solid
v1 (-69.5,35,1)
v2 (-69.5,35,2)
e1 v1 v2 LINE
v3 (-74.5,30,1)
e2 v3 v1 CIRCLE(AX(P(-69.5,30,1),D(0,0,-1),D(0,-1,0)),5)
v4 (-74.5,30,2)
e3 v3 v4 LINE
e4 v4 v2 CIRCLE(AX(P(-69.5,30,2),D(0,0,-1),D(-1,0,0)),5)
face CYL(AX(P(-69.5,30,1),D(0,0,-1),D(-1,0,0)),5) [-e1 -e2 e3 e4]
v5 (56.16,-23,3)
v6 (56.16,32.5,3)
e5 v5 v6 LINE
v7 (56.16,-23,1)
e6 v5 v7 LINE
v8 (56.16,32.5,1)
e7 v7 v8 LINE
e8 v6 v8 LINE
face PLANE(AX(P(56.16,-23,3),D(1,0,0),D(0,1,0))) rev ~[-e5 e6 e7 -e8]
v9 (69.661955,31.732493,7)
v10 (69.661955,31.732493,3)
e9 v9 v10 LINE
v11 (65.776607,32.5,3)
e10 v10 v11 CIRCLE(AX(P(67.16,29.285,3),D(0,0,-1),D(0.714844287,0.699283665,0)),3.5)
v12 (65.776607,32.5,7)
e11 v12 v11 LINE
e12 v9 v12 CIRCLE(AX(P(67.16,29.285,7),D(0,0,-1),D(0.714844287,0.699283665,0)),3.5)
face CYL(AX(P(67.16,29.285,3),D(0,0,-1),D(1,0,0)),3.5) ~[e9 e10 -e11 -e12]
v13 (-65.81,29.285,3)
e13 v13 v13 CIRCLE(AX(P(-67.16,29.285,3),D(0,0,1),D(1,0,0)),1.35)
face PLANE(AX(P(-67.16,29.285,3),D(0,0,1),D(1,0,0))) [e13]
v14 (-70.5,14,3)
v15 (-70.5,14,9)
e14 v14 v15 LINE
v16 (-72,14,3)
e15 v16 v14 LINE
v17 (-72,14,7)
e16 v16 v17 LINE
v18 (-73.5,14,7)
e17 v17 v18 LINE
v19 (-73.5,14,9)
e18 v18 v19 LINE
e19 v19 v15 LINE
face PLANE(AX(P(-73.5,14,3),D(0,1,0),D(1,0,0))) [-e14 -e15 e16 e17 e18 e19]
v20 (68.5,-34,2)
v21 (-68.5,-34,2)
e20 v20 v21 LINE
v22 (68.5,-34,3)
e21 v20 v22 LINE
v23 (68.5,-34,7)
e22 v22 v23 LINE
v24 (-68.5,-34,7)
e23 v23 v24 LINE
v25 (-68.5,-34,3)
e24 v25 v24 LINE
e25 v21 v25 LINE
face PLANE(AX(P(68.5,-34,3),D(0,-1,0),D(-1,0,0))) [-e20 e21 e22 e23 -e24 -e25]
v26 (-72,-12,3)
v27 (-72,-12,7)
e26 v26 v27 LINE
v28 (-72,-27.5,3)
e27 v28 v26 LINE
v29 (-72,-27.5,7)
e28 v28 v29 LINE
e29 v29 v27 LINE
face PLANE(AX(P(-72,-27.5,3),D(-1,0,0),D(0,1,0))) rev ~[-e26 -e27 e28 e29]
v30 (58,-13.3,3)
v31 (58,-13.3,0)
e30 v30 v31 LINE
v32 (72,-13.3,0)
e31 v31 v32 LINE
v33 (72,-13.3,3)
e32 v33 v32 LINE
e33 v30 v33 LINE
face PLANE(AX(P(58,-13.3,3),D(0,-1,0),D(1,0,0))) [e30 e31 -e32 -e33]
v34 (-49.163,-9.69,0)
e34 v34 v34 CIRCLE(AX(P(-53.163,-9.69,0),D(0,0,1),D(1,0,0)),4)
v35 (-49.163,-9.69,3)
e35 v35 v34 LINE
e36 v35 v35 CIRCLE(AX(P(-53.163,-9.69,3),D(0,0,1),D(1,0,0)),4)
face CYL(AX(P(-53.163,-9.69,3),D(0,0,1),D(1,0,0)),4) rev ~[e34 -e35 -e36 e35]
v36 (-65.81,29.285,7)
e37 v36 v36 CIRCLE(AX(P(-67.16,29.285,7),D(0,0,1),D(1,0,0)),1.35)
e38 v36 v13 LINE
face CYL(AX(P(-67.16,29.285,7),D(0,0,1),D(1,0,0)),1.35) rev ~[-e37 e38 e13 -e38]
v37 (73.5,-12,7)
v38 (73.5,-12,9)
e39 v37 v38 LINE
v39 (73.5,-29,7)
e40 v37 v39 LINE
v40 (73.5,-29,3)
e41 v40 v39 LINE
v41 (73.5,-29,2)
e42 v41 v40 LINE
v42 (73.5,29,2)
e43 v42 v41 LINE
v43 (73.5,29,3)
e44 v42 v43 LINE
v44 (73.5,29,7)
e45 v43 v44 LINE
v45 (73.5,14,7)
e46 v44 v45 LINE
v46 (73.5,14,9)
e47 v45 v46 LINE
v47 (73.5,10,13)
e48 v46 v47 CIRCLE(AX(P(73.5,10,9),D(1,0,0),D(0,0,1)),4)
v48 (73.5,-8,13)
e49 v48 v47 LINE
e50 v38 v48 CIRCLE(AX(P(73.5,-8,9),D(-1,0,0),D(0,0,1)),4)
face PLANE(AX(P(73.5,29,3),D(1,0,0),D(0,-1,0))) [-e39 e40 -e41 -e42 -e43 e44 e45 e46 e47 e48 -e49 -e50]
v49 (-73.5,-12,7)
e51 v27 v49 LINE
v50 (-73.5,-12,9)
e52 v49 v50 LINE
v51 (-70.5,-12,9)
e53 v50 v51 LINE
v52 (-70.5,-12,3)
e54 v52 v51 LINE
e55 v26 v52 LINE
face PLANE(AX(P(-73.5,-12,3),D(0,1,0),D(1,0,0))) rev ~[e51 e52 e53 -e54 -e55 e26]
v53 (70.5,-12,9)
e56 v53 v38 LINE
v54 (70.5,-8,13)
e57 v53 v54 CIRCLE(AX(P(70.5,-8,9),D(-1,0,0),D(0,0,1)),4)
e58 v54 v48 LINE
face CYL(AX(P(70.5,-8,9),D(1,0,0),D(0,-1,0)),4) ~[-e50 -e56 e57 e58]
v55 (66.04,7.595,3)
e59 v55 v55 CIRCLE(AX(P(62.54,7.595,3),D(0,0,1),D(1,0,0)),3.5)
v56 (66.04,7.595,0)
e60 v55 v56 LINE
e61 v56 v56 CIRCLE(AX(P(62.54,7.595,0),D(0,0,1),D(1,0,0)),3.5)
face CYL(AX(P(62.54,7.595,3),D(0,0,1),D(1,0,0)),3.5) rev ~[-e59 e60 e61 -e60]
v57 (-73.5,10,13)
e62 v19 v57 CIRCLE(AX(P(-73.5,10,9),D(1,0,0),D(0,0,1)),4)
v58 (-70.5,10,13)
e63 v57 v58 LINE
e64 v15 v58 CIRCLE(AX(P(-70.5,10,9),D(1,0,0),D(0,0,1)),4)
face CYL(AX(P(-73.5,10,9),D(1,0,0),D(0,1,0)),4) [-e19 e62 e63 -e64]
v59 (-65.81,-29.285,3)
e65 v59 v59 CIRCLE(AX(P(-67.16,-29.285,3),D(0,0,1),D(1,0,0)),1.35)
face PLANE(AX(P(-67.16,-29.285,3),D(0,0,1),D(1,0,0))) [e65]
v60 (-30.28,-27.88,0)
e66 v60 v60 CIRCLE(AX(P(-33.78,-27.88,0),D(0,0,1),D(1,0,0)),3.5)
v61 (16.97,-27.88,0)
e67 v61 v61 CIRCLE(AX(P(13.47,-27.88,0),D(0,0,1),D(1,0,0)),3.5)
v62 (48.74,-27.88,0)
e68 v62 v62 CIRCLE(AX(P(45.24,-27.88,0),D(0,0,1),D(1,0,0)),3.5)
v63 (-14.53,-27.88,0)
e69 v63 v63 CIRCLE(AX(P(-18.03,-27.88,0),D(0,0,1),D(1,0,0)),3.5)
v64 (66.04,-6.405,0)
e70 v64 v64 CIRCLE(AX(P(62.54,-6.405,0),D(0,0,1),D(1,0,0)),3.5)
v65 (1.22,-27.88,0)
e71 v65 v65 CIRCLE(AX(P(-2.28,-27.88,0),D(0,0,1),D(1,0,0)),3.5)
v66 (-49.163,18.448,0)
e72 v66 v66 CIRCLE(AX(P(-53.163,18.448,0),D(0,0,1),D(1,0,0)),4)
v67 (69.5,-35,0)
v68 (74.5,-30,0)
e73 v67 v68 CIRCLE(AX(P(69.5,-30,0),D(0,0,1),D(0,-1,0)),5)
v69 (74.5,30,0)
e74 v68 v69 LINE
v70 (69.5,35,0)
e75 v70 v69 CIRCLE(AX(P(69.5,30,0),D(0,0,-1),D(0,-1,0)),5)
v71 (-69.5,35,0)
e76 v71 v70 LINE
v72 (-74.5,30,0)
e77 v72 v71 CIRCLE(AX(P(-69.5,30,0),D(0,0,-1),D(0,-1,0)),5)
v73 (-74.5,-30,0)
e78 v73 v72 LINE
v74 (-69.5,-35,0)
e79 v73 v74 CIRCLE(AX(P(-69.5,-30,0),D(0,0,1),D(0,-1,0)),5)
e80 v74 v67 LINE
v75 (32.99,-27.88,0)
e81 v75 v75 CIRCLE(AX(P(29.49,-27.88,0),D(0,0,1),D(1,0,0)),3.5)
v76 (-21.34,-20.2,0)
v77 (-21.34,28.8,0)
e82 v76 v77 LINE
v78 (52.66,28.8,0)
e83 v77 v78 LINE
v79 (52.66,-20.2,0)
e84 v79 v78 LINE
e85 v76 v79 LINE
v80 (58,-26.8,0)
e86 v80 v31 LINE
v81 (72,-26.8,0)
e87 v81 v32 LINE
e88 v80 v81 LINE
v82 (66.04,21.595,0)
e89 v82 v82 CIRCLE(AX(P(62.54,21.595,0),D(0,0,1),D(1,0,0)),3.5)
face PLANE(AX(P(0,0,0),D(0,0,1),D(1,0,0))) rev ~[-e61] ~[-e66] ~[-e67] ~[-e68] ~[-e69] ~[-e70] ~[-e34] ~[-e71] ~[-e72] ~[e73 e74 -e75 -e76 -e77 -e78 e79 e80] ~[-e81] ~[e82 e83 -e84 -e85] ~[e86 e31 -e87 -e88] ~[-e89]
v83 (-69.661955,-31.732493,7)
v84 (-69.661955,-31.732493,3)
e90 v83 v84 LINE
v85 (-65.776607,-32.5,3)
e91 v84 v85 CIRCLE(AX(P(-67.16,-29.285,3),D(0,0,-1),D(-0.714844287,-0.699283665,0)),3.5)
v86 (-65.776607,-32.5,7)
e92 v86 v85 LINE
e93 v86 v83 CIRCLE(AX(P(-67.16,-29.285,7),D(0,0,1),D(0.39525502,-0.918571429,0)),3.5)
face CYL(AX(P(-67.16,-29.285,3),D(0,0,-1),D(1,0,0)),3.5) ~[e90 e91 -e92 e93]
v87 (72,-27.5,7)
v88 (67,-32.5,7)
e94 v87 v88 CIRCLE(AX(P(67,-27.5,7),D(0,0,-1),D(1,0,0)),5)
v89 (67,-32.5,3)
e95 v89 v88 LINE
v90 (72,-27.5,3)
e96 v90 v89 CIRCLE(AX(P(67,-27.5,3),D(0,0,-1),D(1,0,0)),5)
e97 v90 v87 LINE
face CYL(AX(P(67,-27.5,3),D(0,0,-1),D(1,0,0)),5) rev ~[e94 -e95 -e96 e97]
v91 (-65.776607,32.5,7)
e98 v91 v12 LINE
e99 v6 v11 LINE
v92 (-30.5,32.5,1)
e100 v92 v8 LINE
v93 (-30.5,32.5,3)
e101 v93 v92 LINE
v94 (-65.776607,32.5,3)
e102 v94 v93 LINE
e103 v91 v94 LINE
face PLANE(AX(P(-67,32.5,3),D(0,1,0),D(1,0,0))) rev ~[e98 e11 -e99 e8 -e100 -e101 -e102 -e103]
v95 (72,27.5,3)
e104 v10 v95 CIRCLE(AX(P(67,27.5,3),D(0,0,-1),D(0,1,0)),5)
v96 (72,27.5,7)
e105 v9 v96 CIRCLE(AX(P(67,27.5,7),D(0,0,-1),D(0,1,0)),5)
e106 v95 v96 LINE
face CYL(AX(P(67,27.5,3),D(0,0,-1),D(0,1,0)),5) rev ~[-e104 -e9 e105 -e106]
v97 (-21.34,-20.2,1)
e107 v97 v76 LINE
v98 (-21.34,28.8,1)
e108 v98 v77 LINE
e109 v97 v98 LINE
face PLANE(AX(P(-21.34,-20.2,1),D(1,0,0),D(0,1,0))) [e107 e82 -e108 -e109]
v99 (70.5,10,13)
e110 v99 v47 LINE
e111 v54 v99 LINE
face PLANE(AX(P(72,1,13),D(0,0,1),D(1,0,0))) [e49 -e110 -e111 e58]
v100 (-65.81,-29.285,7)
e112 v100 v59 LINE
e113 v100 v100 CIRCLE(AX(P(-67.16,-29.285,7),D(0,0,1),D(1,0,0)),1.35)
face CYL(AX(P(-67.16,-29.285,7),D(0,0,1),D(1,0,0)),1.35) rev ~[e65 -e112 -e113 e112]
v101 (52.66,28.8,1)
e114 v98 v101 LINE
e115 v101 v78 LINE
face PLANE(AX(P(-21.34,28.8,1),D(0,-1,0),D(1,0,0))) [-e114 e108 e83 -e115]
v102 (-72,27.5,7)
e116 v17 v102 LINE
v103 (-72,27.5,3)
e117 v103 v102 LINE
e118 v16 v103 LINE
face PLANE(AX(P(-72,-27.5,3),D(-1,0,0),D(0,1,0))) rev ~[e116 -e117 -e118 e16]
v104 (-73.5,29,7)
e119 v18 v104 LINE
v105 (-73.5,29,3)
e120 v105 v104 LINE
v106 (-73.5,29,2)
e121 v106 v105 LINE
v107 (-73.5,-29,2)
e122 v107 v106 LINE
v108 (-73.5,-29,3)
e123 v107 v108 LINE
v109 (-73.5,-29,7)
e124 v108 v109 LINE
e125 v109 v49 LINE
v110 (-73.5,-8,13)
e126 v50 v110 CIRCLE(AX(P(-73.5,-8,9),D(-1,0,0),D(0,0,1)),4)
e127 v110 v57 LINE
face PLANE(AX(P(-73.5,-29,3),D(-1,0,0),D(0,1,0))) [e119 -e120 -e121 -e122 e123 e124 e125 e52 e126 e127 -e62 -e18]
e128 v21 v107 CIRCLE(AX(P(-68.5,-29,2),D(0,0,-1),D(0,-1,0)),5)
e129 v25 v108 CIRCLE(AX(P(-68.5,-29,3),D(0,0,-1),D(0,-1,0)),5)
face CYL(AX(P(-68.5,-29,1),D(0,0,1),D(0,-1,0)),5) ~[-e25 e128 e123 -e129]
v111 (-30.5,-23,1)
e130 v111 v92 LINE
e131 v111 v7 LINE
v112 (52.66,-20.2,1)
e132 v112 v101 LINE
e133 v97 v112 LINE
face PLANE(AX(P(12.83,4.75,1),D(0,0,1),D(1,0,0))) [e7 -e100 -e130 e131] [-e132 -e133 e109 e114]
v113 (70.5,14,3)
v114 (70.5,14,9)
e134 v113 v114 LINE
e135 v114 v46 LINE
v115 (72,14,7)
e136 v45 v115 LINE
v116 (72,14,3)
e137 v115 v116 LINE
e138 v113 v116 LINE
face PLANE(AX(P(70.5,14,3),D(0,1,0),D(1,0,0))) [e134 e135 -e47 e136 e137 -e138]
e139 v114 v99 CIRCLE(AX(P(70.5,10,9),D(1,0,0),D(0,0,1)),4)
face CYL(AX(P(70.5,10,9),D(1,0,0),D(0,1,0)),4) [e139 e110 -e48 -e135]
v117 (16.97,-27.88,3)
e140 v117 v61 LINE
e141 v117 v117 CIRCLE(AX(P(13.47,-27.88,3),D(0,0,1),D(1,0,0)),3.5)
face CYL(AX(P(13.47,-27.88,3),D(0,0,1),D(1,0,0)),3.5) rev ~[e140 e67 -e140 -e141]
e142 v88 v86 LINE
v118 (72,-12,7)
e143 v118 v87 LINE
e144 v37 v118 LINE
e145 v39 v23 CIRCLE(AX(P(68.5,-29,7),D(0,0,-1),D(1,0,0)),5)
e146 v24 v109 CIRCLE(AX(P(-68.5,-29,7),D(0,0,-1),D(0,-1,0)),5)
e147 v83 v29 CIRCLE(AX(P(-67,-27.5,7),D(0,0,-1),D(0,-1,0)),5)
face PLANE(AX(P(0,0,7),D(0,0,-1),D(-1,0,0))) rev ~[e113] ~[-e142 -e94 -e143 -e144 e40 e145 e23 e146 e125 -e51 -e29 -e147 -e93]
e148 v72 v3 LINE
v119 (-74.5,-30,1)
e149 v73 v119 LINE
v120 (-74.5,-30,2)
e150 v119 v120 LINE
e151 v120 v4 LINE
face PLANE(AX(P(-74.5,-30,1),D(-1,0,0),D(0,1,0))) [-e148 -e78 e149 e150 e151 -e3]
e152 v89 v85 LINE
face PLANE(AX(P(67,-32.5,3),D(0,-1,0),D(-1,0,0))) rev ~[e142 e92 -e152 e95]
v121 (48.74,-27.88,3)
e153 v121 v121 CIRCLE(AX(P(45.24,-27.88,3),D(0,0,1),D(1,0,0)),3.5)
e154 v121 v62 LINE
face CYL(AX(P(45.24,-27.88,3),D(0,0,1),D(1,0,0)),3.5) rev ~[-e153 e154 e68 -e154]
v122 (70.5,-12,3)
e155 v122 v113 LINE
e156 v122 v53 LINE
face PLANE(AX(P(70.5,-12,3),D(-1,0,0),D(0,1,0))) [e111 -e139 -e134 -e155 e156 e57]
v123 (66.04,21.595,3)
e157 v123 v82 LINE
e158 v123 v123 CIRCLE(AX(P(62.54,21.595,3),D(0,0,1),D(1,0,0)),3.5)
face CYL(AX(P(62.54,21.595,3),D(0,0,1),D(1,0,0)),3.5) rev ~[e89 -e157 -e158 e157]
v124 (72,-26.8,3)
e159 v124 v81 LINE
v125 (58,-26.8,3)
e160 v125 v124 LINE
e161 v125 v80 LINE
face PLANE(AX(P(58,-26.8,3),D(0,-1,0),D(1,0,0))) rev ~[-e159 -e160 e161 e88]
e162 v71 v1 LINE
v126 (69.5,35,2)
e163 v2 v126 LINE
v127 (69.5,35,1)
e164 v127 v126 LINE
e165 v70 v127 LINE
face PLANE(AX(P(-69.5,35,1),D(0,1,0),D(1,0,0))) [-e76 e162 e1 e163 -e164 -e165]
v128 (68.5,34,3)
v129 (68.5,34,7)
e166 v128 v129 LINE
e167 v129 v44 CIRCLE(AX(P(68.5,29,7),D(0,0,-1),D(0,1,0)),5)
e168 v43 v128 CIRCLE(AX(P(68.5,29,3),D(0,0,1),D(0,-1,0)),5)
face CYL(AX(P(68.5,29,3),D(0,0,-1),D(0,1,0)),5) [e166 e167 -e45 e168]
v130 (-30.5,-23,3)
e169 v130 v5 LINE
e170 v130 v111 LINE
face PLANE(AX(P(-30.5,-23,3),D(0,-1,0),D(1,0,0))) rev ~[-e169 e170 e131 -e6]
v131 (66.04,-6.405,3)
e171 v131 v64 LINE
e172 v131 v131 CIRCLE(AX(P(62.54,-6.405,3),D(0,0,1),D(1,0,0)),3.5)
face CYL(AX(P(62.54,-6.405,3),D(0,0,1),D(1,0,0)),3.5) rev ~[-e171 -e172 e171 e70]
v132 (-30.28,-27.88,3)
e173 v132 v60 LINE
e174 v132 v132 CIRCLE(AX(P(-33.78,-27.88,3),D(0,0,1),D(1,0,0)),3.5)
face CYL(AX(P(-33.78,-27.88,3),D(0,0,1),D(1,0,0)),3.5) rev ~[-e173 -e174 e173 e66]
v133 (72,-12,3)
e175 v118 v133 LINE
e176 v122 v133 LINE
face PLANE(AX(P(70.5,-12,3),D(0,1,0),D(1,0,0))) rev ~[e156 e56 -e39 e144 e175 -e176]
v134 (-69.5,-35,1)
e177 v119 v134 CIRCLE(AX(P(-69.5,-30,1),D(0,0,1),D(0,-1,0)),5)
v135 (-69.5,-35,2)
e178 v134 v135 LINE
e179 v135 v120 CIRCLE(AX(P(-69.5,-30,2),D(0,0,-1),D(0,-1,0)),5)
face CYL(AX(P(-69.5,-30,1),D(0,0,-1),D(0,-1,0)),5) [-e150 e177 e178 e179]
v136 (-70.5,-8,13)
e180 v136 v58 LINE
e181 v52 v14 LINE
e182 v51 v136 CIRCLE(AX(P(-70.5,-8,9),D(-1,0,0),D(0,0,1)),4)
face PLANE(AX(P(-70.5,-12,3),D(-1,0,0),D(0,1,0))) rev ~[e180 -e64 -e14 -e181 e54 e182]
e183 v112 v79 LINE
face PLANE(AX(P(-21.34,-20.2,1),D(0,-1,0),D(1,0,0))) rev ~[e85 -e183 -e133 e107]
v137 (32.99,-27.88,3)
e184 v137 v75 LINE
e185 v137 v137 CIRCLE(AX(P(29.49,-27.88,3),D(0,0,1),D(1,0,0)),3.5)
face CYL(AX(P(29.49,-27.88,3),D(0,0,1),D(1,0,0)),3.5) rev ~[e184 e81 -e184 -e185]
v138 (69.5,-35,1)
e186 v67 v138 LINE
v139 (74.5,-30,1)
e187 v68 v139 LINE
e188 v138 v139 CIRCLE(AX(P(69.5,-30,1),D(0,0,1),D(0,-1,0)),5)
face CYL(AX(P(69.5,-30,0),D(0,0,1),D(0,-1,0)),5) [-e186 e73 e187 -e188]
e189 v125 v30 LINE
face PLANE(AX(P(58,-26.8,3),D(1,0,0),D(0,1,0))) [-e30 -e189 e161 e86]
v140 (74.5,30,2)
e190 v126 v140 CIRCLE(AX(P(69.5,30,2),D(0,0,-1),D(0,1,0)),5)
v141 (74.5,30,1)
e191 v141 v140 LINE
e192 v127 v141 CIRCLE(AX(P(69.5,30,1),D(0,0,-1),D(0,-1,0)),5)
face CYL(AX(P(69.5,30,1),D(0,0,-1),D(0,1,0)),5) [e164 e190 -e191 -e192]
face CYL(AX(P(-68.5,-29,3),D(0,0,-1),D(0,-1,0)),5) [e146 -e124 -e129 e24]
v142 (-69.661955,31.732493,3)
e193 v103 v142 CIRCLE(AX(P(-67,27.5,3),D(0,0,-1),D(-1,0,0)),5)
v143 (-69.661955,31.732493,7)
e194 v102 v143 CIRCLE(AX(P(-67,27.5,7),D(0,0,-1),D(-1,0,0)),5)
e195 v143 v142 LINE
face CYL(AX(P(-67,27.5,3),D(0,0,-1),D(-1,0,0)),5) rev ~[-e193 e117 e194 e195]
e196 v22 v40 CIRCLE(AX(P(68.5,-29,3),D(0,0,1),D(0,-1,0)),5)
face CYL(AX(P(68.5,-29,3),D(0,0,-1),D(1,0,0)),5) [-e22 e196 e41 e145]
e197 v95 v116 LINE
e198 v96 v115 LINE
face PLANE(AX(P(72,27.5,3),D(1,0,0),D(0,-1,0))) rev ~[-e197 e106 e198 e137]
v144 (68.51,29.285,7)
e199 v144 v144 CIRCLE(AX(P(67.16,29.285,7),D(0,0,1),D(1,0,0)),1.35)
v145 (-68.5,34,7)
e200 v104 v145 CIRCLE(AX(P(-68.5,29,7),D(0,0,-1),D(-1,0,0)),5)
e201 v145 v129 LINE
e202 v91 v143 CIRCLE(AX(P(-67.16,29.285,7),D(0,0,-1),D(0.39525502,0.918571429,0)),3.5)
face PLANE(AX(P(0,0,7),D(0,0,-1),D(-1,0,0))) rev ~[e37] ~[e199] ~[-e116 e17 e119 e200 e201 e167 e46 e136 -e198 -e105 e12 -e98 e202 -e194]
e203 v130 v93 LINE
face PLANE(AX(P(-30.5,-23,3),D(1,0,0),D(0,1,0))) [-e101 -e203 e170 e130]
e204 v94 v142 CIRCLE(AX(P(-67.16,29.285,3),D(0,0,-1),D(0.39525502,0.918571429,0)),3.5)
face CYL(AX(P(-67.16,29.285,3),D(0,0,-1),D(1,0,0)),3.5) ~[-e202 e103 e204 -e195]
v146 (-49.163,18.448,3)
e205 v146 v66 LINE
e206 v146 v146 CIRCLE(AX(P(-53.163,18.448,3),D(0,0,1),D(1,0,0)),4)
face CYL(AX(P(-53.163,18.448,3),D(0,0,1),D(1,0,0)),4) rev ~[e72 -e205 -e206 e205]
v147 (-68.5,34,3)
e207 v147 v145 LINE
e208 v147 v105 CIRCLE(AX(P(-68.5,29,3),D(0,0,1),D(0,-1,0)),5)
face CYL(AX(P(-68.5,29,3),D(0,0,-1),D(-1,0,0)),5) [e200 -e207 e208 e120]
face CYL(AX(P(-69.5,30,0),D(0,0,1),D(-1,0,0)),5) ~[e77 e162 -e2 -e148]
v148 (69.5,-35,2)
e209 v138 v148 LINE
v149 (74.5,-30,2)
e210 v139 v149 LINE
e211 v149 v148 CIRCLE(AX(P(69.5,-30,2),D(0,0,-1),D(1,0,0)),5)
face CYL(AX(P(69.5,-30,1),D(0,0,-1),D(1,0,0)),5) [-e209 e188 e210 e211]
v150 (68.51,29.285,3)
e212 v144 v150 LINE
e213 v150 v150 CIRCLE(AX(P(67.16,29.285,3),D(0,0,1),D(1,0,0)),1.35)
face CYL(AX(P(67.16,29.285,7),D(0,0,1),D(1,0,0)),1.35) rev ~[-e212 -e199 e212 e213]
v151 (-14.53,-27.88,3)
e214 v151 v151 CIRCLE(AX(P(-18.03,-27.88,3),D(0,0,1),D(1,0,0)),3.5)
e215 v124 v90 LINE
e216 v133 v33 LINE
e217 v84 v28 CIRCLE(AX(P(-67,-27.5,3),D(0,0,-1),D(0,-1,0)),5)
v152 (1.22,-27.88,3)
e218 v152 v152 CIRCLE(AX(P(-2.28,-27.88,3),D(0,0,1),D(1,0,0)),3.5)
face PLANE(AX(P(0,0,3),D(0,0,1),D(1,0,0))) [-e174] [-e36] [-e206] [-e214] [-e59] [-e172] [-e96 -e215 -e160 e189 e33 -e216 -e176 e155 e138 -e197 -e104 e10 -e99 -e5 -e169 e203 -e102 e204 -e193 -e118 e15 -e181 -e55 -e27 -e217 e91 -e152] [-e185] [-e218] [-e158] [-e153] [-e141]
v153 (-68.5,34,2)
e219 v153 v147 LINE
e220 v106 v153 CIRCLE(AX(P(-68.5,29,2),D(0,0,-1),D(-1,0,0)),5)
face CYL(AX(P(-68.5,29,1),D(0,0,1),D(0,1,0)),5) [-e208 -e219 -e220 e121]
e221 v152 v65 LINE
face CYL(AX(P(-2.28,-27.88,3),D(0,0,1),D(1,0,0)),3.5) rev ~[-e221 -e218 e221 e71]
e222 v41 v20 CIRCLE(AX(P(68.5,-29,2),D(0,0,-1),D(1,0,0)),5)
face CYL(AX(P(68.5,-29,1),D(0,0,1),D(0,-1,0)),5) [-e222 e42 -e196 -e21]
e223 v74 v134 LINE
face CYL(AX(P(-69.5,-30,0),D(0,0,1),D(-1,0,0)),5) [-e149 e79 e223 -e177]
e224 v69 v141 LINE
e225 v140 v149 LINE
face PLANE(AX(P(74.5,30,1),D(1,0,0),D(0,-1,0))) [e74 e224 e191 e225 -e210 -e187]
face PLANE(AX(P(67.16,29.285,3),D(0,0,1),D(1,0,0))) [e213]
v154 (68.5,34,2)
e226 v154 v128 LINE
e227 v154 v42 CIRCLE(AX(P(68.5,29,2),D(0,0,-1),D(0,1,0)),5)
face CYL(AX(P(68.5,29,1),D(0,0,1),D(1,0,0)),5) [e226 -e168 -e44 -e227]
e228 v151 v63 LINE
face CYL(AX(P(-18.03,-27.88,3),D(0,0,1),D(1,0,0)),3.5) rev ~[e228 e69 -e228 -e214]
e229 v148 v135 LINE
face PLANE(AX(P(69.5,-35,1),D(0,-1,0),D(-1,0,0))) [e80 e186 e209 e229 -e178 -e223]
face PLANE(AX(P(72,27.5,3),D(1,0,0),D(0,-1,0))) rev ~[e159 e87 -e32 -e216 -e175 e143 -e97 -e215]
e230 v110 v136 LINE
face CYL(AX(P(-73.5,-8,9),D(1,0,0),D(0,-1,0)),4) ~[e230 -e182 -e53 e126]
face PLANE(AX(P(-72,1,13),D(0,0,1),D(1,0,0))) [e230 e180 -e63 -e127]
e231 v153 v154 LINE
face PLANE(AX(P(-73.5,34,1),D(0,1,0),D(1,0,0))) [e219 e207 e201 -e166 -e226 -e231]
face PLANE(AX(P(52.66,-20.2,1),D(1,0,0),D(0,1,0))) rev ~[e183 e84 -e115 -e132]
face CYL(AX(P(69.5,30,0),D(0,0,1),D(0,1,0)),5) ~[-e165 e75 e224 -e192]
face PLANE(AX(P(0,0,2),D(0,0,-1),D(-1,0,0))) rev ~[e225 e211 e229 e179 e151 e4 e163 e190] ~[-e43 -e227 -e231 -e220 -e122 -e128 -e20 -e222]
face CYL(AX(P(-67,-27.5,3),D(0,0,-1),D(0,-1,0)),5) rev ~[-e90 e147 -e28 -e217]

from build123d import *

# Parameters (mm, degrees)
SKETCH_1_W           = 149
SKETCH_1_H           = 70
EXTRUDE_1_DEPTH      = 1
SKETCH_2_W           = 147
SKETCH_2_H           = 68
EXTRUDE_2_DEPTH      = 2
FILLET_1_R           = 5
SKETCH_3_W           = 3
SKETCH_3_H           = 26
EXTRUDE_3_DEPTH      = 10
FILLET_2_R           = 4
SKETCH_6_R           = 3.5
EXTRUDE_4_DEPTH      = 4
SKETCH_7_W           = 86.66
SKETCH_7_H           = 55.5
CUT_EXTRUDE_3_DEPTH  = 2
SKETCH_8_W           = 74
SKETCH_8_H           = 49
CUT_EXTRUDE_4_DEPTH  = 2
SKETCH_11_R          = 4
CUT_EXTRUDE_7_DEPTH  = 4
SKETCH_12_R          = 1.35
CUT_EXTRUDE_8_DEPTH  = 4
SKETCH_13_R          = 1.35
CUT_EXTRUDE_9_DEPTH  = 4
SKETCH_14_R          = 1.35
CUT_EXTRUDE_10_DEPTH = 4
SKETCH_15_W          = 14
SKETCH_15_H          = 13.5
CUT_EXTRUDE_11_DEPTH = 4
SKETCH_9_R           = 3.5
CUT_EXTRUDE_12_DEPTH = 4
SKETCH_16_R          = 3.5
CUT_EXTRUDE_13_DEPTH = 4
EXTRUDE_5_DEPTH      = 4
EXTRUDE_6_DEPTH      = 1


with BuildPart() as part:
    # Эскиз1 → Бобышка-Вытянуть1 (new body)
    with BuildSketch(Plane.XY):
        Rectangle(SKETCH_1_W, SKETCH_1_H)
    extrude(amount=EXTRUDE_1_DEPTH)

    # Эскиз2 → Бобышка-Вытянуть2 (add)
    with BuildSketch(Plane.XY.offset(1)):
        Rectangle(SKETCH_2_W, SKETCH_2_H)
    extrude(amount=EXTRUDE_2_DEPTH)

    # Скругление1
    fillet_1_edges = [part.edges().sort_by_distance(p)[0] for p in [
        (-73.5, 34, 2),
        (-73.5, -34, 2),
        (73.5, -34, 2),
        (73.5, 34, 2),
        (-74.5, 35, 0.5),
        (74.5, 35, 0.5),
        (74.5, -35, 0.5),
        (-74.5, -35, 0.5),
    ]]
    fillet(fillet_1_edges, radius=FILLET_1_R)

    # Эскиз3 → Бобышка-Вытянуть3 (add)
    with BuildSketch(Plane.XY.offset(3)):
        with Locations((-72, 1)):
            Rectangle(SKETCH_3_W, SKETCH_3_H)
        with Locations((72, 1)):
            Rectangle(SKETCH_3_W, SKETCH_3_H)
    extrude(amount=EXTRUDE_3_DEPTH)

    # Скругление2
    fillet_2_edges = [part.edges().sort_by_distance(p)[0] for p in [
        (-72, -12, 13),
        (-72, 14, 13),
        (72, 14, 13),
        (72, -12, 13),
    ]]
    fillet(fillet_2_edges, radius=FILLET_2_R)

    # Эскиз6 → Бобышка-Вытянуть4 (add)
    with BuildSketch(Plane.XY.offset(3)):
        with Locations((-67.16, 29.285)):
            Circle(SKETCH_6_R)
        with Locations((67.16, 29.285)):
            Circle(SKETCH_6_R)
        with Locations((-67.16, -29.285)):
            Circle(SKETCH_6_R)
    extrude(amount=EXTRUDE_4_DEPTH)

    # Эскиз7 → Вырез-Вытянуть3 (cut)
    with BuildSketch(Plane.XY.offset(3)):
        with Locations((12.83, 4.75)):
            Rectangle(SKETCH_7_W, SKETCH_7_H)
    extrude(amount=-CUT_EXTRUDE_3_DEPTH, mode=Mode.SUBTRACT)

    # Эскиз8 → Вырез-Вытянуть4 (cut, through all)
    with BuildSketch(Plane.XY.offset(1)):
        with Locations((15.66, 4.3)):
            Rectangle(SKETCH_8_W, SKETCH_8_H)
    extrude(amount=-CUT_EXTRUDE_4_DEPTH, mode=Mode.SUBTRACT)

    # Эскиз11 → Вырез-Вытянуть7 (cut, through all)
    with BuildSketch(Plane.XY.offset(3)):
        with Locations((-53.163, 18.448)):
            Circle(SKETCH_11_R)
        with Locations((-53.163, -9.69)):
            Circle(SKETCH_11_R)
    extrude(amount=-CUT_EXTRUDE_7_DEPTH, mode=Mode.SUBTRACT)

    # Эскиз12 → Вырез-Вытянуть8 (cut)
    with BuildSketch(Plane.XY.offset(7)):
        with Locations((-67.16, 29.285)):
            Circle(SKETCH_12_R)
    extrude(amount=-CUT_EXTRUDE_8_DEPTH, mode=Mode.SUBTRACT)

    # Эскиз13 → Вырез-Вытянуть9 (cut)
    with BuildSketch(Plane.XY.offset(7)):
        with Locations((67.16, 29.285)):
            Circle(SKETCH_13_R)
    extrude(amount=-CUT_EXTRUDE_9_DEPTH, mode=Mode.SUBTRACT)

    # Эскиз14 → Вырез-Вытянуть10 (cut)
    with BuildSketch(Plane.XY.offset(7)):
        with Locations((-67.16, -29.285)):
            Circle(SKETCH_14_R)
    extrude(amount=-CUT_EXTRUDE_10_DEPTH, mode=Mode.SUBTRACT)

    # Эскиз15 → Вырез-Вытянуть11 (cut, through all)
    with BuildSketch(Plane.XY.offset(3)):
        with Locations((65, -20.05)):
            Rectangle(SKETCH_15_W, SKETCH_15_H)
    extrude(amount=-CUT_EXTRUDE_11_DEPTH, mode=Mode.SUBTRACT)

    # Эскиз9 → Вырез-Вытянуть12 (cut, through all)
    with BuildSketch(Plane.XY.offset(3)):
        with Locations((62.54, -6.405)):
            Circle(SKETCH_9_R)
        with Locations((62.54, 21.595)):
            Circle(SKETCH_9_R)
        with Locations((62.54, 7.595)):
            Circle(SKETCH_9_R)
    extrude(amount=-CUT_EXTRUDE_12_DEPTH, mode=Mode.SUBTRACT)

    # Эскиз16 → Вырез-Вытянуть13 (cut, through all)
    with BuildSketch(Plane.XY.offset(3)):
        with Locations((45.24, -27.88)):
            Circle(SKETCH_16_R)
        with Locations((29.49, -27.88)):
            Circle(SKETCH_16_R)
        with Locations((13.47, -27.88)):
            Circle(SKETCH_16_R)
        with Locations((-2.28, -27.88)):
            Circle(SKETCH_16_R)
        with Locations((-18.03, -27.88)):
            Circle(SKETCH_16_R)
        with Locations((-33.78, -27.88)):
            Circle(SKETCH_16_R)
    extrude(amount=-CUT_EXTRUDE_13_DEPTH, mode=Mode.SUBTRACT)

    # Эскиз17 → Бобышка-Вытянуть5 (add)
    with BuildSketch(Plane.XY.offset(3)):
        with BuildLine():
            Line((68.5, -34), (-68.5, -34))
            ThreePointArc((-68.5, -34), (-72.035533906, -32.535533906), (-73.5, -29))
            Line((-73.5, -29), (-73.5, 29))
            ThreePointArc((-73.5, 29), (-72.035533906, 32.535533906), (-68.5, 34))
            Line((-68.5, 34), (68.5, 34))
            ThreePointArc((68.5, 34), (72.035533906, 32.535533906), (73.5, 29))
            Line((73.5, 29), (73.5, -29))
            ThreePointArc((73.5, -29), (72.035533906, -32.535533906), (68.5, -34))
        make_face()
        with BuildLine():
            Line((67, -32.5), (-67, -32.5))
            ThreePointArc((-67, -32.5), (-70.535533906, -31.035533906), (-72, -27.5))
            Line((-72, -27.5), (-72, 27.5))
            ThreePointArc((-72, 27.5), (-70.535533906, 31.035533906), (-67, 32.5))
            Line((-67, 32.5), (67, 32.5))
            ThreePointArc((67, 32.5), (70.535533906, 31.035533906), (72, 27.5))
            Line((72, 27.5), (72, -27.5))
            ThreePointArc((72, -27.5), (70.535533906, -31.035533906), (67, -32.5))
        make_face(mode=Mode.SUBTRACT)
    extrude(amount=EXTRUDE_5_DEPTH)

    # Эскиз18 → Бобышка-Вытянуть6 (add)
    with BuildSketch(Plane.XY.offset(1)):
        with BuildLine():
            Line((69.5, -35), (-69.5, -35))
            ThreePointArc((-69.5, -35), (-73.035533906, -33.535533906), (-74.5, -30))
            Line((-74.5, -30), (-74.5, 30))
            ThreePointArc((-74.5, 30), (-73.035533906, 33.535533906), (-69.5, 35))
            Line((-69.5, 35), (69.5, 35))
            ThreePointArc((69.5, 35), (73.035533906, 33.535533906), (74.5, 30))
            Line((74.5, 30), (74.5, -30))
            ThreePointArc((74.5, -30), (73.035533906, -33.535533906), (69.5, -35))
        make_face()
        with BuildLine():
            Line((68.5, -34), (-68.5, -34))
            ThreePointArc((-68.5, -34), (-72.035533906, -32.535533906), (-73.5, -29))
            Line((-73.5, -29), (-73.5, 29))
            ThreePointArc((-73.5, 29), (-72.035533906, 32.535533906), (-68.5, 34))
            Line((-68.5, 34), (68.5, 34))
            ThreePointArc((68.5, 34), (72.035533906, 32.535533906), (73.5, 29))
            Line((73.5, 29), (73.5, -29))
            ThreePointArc((73.5, -29), (72.035533906, -32.535533906), (68.5, -34))
        make_face(mode=Mode.SUBTRACT)
    extrude(amount=EXTRUDE_6_DEPTH)


solid = part.part
